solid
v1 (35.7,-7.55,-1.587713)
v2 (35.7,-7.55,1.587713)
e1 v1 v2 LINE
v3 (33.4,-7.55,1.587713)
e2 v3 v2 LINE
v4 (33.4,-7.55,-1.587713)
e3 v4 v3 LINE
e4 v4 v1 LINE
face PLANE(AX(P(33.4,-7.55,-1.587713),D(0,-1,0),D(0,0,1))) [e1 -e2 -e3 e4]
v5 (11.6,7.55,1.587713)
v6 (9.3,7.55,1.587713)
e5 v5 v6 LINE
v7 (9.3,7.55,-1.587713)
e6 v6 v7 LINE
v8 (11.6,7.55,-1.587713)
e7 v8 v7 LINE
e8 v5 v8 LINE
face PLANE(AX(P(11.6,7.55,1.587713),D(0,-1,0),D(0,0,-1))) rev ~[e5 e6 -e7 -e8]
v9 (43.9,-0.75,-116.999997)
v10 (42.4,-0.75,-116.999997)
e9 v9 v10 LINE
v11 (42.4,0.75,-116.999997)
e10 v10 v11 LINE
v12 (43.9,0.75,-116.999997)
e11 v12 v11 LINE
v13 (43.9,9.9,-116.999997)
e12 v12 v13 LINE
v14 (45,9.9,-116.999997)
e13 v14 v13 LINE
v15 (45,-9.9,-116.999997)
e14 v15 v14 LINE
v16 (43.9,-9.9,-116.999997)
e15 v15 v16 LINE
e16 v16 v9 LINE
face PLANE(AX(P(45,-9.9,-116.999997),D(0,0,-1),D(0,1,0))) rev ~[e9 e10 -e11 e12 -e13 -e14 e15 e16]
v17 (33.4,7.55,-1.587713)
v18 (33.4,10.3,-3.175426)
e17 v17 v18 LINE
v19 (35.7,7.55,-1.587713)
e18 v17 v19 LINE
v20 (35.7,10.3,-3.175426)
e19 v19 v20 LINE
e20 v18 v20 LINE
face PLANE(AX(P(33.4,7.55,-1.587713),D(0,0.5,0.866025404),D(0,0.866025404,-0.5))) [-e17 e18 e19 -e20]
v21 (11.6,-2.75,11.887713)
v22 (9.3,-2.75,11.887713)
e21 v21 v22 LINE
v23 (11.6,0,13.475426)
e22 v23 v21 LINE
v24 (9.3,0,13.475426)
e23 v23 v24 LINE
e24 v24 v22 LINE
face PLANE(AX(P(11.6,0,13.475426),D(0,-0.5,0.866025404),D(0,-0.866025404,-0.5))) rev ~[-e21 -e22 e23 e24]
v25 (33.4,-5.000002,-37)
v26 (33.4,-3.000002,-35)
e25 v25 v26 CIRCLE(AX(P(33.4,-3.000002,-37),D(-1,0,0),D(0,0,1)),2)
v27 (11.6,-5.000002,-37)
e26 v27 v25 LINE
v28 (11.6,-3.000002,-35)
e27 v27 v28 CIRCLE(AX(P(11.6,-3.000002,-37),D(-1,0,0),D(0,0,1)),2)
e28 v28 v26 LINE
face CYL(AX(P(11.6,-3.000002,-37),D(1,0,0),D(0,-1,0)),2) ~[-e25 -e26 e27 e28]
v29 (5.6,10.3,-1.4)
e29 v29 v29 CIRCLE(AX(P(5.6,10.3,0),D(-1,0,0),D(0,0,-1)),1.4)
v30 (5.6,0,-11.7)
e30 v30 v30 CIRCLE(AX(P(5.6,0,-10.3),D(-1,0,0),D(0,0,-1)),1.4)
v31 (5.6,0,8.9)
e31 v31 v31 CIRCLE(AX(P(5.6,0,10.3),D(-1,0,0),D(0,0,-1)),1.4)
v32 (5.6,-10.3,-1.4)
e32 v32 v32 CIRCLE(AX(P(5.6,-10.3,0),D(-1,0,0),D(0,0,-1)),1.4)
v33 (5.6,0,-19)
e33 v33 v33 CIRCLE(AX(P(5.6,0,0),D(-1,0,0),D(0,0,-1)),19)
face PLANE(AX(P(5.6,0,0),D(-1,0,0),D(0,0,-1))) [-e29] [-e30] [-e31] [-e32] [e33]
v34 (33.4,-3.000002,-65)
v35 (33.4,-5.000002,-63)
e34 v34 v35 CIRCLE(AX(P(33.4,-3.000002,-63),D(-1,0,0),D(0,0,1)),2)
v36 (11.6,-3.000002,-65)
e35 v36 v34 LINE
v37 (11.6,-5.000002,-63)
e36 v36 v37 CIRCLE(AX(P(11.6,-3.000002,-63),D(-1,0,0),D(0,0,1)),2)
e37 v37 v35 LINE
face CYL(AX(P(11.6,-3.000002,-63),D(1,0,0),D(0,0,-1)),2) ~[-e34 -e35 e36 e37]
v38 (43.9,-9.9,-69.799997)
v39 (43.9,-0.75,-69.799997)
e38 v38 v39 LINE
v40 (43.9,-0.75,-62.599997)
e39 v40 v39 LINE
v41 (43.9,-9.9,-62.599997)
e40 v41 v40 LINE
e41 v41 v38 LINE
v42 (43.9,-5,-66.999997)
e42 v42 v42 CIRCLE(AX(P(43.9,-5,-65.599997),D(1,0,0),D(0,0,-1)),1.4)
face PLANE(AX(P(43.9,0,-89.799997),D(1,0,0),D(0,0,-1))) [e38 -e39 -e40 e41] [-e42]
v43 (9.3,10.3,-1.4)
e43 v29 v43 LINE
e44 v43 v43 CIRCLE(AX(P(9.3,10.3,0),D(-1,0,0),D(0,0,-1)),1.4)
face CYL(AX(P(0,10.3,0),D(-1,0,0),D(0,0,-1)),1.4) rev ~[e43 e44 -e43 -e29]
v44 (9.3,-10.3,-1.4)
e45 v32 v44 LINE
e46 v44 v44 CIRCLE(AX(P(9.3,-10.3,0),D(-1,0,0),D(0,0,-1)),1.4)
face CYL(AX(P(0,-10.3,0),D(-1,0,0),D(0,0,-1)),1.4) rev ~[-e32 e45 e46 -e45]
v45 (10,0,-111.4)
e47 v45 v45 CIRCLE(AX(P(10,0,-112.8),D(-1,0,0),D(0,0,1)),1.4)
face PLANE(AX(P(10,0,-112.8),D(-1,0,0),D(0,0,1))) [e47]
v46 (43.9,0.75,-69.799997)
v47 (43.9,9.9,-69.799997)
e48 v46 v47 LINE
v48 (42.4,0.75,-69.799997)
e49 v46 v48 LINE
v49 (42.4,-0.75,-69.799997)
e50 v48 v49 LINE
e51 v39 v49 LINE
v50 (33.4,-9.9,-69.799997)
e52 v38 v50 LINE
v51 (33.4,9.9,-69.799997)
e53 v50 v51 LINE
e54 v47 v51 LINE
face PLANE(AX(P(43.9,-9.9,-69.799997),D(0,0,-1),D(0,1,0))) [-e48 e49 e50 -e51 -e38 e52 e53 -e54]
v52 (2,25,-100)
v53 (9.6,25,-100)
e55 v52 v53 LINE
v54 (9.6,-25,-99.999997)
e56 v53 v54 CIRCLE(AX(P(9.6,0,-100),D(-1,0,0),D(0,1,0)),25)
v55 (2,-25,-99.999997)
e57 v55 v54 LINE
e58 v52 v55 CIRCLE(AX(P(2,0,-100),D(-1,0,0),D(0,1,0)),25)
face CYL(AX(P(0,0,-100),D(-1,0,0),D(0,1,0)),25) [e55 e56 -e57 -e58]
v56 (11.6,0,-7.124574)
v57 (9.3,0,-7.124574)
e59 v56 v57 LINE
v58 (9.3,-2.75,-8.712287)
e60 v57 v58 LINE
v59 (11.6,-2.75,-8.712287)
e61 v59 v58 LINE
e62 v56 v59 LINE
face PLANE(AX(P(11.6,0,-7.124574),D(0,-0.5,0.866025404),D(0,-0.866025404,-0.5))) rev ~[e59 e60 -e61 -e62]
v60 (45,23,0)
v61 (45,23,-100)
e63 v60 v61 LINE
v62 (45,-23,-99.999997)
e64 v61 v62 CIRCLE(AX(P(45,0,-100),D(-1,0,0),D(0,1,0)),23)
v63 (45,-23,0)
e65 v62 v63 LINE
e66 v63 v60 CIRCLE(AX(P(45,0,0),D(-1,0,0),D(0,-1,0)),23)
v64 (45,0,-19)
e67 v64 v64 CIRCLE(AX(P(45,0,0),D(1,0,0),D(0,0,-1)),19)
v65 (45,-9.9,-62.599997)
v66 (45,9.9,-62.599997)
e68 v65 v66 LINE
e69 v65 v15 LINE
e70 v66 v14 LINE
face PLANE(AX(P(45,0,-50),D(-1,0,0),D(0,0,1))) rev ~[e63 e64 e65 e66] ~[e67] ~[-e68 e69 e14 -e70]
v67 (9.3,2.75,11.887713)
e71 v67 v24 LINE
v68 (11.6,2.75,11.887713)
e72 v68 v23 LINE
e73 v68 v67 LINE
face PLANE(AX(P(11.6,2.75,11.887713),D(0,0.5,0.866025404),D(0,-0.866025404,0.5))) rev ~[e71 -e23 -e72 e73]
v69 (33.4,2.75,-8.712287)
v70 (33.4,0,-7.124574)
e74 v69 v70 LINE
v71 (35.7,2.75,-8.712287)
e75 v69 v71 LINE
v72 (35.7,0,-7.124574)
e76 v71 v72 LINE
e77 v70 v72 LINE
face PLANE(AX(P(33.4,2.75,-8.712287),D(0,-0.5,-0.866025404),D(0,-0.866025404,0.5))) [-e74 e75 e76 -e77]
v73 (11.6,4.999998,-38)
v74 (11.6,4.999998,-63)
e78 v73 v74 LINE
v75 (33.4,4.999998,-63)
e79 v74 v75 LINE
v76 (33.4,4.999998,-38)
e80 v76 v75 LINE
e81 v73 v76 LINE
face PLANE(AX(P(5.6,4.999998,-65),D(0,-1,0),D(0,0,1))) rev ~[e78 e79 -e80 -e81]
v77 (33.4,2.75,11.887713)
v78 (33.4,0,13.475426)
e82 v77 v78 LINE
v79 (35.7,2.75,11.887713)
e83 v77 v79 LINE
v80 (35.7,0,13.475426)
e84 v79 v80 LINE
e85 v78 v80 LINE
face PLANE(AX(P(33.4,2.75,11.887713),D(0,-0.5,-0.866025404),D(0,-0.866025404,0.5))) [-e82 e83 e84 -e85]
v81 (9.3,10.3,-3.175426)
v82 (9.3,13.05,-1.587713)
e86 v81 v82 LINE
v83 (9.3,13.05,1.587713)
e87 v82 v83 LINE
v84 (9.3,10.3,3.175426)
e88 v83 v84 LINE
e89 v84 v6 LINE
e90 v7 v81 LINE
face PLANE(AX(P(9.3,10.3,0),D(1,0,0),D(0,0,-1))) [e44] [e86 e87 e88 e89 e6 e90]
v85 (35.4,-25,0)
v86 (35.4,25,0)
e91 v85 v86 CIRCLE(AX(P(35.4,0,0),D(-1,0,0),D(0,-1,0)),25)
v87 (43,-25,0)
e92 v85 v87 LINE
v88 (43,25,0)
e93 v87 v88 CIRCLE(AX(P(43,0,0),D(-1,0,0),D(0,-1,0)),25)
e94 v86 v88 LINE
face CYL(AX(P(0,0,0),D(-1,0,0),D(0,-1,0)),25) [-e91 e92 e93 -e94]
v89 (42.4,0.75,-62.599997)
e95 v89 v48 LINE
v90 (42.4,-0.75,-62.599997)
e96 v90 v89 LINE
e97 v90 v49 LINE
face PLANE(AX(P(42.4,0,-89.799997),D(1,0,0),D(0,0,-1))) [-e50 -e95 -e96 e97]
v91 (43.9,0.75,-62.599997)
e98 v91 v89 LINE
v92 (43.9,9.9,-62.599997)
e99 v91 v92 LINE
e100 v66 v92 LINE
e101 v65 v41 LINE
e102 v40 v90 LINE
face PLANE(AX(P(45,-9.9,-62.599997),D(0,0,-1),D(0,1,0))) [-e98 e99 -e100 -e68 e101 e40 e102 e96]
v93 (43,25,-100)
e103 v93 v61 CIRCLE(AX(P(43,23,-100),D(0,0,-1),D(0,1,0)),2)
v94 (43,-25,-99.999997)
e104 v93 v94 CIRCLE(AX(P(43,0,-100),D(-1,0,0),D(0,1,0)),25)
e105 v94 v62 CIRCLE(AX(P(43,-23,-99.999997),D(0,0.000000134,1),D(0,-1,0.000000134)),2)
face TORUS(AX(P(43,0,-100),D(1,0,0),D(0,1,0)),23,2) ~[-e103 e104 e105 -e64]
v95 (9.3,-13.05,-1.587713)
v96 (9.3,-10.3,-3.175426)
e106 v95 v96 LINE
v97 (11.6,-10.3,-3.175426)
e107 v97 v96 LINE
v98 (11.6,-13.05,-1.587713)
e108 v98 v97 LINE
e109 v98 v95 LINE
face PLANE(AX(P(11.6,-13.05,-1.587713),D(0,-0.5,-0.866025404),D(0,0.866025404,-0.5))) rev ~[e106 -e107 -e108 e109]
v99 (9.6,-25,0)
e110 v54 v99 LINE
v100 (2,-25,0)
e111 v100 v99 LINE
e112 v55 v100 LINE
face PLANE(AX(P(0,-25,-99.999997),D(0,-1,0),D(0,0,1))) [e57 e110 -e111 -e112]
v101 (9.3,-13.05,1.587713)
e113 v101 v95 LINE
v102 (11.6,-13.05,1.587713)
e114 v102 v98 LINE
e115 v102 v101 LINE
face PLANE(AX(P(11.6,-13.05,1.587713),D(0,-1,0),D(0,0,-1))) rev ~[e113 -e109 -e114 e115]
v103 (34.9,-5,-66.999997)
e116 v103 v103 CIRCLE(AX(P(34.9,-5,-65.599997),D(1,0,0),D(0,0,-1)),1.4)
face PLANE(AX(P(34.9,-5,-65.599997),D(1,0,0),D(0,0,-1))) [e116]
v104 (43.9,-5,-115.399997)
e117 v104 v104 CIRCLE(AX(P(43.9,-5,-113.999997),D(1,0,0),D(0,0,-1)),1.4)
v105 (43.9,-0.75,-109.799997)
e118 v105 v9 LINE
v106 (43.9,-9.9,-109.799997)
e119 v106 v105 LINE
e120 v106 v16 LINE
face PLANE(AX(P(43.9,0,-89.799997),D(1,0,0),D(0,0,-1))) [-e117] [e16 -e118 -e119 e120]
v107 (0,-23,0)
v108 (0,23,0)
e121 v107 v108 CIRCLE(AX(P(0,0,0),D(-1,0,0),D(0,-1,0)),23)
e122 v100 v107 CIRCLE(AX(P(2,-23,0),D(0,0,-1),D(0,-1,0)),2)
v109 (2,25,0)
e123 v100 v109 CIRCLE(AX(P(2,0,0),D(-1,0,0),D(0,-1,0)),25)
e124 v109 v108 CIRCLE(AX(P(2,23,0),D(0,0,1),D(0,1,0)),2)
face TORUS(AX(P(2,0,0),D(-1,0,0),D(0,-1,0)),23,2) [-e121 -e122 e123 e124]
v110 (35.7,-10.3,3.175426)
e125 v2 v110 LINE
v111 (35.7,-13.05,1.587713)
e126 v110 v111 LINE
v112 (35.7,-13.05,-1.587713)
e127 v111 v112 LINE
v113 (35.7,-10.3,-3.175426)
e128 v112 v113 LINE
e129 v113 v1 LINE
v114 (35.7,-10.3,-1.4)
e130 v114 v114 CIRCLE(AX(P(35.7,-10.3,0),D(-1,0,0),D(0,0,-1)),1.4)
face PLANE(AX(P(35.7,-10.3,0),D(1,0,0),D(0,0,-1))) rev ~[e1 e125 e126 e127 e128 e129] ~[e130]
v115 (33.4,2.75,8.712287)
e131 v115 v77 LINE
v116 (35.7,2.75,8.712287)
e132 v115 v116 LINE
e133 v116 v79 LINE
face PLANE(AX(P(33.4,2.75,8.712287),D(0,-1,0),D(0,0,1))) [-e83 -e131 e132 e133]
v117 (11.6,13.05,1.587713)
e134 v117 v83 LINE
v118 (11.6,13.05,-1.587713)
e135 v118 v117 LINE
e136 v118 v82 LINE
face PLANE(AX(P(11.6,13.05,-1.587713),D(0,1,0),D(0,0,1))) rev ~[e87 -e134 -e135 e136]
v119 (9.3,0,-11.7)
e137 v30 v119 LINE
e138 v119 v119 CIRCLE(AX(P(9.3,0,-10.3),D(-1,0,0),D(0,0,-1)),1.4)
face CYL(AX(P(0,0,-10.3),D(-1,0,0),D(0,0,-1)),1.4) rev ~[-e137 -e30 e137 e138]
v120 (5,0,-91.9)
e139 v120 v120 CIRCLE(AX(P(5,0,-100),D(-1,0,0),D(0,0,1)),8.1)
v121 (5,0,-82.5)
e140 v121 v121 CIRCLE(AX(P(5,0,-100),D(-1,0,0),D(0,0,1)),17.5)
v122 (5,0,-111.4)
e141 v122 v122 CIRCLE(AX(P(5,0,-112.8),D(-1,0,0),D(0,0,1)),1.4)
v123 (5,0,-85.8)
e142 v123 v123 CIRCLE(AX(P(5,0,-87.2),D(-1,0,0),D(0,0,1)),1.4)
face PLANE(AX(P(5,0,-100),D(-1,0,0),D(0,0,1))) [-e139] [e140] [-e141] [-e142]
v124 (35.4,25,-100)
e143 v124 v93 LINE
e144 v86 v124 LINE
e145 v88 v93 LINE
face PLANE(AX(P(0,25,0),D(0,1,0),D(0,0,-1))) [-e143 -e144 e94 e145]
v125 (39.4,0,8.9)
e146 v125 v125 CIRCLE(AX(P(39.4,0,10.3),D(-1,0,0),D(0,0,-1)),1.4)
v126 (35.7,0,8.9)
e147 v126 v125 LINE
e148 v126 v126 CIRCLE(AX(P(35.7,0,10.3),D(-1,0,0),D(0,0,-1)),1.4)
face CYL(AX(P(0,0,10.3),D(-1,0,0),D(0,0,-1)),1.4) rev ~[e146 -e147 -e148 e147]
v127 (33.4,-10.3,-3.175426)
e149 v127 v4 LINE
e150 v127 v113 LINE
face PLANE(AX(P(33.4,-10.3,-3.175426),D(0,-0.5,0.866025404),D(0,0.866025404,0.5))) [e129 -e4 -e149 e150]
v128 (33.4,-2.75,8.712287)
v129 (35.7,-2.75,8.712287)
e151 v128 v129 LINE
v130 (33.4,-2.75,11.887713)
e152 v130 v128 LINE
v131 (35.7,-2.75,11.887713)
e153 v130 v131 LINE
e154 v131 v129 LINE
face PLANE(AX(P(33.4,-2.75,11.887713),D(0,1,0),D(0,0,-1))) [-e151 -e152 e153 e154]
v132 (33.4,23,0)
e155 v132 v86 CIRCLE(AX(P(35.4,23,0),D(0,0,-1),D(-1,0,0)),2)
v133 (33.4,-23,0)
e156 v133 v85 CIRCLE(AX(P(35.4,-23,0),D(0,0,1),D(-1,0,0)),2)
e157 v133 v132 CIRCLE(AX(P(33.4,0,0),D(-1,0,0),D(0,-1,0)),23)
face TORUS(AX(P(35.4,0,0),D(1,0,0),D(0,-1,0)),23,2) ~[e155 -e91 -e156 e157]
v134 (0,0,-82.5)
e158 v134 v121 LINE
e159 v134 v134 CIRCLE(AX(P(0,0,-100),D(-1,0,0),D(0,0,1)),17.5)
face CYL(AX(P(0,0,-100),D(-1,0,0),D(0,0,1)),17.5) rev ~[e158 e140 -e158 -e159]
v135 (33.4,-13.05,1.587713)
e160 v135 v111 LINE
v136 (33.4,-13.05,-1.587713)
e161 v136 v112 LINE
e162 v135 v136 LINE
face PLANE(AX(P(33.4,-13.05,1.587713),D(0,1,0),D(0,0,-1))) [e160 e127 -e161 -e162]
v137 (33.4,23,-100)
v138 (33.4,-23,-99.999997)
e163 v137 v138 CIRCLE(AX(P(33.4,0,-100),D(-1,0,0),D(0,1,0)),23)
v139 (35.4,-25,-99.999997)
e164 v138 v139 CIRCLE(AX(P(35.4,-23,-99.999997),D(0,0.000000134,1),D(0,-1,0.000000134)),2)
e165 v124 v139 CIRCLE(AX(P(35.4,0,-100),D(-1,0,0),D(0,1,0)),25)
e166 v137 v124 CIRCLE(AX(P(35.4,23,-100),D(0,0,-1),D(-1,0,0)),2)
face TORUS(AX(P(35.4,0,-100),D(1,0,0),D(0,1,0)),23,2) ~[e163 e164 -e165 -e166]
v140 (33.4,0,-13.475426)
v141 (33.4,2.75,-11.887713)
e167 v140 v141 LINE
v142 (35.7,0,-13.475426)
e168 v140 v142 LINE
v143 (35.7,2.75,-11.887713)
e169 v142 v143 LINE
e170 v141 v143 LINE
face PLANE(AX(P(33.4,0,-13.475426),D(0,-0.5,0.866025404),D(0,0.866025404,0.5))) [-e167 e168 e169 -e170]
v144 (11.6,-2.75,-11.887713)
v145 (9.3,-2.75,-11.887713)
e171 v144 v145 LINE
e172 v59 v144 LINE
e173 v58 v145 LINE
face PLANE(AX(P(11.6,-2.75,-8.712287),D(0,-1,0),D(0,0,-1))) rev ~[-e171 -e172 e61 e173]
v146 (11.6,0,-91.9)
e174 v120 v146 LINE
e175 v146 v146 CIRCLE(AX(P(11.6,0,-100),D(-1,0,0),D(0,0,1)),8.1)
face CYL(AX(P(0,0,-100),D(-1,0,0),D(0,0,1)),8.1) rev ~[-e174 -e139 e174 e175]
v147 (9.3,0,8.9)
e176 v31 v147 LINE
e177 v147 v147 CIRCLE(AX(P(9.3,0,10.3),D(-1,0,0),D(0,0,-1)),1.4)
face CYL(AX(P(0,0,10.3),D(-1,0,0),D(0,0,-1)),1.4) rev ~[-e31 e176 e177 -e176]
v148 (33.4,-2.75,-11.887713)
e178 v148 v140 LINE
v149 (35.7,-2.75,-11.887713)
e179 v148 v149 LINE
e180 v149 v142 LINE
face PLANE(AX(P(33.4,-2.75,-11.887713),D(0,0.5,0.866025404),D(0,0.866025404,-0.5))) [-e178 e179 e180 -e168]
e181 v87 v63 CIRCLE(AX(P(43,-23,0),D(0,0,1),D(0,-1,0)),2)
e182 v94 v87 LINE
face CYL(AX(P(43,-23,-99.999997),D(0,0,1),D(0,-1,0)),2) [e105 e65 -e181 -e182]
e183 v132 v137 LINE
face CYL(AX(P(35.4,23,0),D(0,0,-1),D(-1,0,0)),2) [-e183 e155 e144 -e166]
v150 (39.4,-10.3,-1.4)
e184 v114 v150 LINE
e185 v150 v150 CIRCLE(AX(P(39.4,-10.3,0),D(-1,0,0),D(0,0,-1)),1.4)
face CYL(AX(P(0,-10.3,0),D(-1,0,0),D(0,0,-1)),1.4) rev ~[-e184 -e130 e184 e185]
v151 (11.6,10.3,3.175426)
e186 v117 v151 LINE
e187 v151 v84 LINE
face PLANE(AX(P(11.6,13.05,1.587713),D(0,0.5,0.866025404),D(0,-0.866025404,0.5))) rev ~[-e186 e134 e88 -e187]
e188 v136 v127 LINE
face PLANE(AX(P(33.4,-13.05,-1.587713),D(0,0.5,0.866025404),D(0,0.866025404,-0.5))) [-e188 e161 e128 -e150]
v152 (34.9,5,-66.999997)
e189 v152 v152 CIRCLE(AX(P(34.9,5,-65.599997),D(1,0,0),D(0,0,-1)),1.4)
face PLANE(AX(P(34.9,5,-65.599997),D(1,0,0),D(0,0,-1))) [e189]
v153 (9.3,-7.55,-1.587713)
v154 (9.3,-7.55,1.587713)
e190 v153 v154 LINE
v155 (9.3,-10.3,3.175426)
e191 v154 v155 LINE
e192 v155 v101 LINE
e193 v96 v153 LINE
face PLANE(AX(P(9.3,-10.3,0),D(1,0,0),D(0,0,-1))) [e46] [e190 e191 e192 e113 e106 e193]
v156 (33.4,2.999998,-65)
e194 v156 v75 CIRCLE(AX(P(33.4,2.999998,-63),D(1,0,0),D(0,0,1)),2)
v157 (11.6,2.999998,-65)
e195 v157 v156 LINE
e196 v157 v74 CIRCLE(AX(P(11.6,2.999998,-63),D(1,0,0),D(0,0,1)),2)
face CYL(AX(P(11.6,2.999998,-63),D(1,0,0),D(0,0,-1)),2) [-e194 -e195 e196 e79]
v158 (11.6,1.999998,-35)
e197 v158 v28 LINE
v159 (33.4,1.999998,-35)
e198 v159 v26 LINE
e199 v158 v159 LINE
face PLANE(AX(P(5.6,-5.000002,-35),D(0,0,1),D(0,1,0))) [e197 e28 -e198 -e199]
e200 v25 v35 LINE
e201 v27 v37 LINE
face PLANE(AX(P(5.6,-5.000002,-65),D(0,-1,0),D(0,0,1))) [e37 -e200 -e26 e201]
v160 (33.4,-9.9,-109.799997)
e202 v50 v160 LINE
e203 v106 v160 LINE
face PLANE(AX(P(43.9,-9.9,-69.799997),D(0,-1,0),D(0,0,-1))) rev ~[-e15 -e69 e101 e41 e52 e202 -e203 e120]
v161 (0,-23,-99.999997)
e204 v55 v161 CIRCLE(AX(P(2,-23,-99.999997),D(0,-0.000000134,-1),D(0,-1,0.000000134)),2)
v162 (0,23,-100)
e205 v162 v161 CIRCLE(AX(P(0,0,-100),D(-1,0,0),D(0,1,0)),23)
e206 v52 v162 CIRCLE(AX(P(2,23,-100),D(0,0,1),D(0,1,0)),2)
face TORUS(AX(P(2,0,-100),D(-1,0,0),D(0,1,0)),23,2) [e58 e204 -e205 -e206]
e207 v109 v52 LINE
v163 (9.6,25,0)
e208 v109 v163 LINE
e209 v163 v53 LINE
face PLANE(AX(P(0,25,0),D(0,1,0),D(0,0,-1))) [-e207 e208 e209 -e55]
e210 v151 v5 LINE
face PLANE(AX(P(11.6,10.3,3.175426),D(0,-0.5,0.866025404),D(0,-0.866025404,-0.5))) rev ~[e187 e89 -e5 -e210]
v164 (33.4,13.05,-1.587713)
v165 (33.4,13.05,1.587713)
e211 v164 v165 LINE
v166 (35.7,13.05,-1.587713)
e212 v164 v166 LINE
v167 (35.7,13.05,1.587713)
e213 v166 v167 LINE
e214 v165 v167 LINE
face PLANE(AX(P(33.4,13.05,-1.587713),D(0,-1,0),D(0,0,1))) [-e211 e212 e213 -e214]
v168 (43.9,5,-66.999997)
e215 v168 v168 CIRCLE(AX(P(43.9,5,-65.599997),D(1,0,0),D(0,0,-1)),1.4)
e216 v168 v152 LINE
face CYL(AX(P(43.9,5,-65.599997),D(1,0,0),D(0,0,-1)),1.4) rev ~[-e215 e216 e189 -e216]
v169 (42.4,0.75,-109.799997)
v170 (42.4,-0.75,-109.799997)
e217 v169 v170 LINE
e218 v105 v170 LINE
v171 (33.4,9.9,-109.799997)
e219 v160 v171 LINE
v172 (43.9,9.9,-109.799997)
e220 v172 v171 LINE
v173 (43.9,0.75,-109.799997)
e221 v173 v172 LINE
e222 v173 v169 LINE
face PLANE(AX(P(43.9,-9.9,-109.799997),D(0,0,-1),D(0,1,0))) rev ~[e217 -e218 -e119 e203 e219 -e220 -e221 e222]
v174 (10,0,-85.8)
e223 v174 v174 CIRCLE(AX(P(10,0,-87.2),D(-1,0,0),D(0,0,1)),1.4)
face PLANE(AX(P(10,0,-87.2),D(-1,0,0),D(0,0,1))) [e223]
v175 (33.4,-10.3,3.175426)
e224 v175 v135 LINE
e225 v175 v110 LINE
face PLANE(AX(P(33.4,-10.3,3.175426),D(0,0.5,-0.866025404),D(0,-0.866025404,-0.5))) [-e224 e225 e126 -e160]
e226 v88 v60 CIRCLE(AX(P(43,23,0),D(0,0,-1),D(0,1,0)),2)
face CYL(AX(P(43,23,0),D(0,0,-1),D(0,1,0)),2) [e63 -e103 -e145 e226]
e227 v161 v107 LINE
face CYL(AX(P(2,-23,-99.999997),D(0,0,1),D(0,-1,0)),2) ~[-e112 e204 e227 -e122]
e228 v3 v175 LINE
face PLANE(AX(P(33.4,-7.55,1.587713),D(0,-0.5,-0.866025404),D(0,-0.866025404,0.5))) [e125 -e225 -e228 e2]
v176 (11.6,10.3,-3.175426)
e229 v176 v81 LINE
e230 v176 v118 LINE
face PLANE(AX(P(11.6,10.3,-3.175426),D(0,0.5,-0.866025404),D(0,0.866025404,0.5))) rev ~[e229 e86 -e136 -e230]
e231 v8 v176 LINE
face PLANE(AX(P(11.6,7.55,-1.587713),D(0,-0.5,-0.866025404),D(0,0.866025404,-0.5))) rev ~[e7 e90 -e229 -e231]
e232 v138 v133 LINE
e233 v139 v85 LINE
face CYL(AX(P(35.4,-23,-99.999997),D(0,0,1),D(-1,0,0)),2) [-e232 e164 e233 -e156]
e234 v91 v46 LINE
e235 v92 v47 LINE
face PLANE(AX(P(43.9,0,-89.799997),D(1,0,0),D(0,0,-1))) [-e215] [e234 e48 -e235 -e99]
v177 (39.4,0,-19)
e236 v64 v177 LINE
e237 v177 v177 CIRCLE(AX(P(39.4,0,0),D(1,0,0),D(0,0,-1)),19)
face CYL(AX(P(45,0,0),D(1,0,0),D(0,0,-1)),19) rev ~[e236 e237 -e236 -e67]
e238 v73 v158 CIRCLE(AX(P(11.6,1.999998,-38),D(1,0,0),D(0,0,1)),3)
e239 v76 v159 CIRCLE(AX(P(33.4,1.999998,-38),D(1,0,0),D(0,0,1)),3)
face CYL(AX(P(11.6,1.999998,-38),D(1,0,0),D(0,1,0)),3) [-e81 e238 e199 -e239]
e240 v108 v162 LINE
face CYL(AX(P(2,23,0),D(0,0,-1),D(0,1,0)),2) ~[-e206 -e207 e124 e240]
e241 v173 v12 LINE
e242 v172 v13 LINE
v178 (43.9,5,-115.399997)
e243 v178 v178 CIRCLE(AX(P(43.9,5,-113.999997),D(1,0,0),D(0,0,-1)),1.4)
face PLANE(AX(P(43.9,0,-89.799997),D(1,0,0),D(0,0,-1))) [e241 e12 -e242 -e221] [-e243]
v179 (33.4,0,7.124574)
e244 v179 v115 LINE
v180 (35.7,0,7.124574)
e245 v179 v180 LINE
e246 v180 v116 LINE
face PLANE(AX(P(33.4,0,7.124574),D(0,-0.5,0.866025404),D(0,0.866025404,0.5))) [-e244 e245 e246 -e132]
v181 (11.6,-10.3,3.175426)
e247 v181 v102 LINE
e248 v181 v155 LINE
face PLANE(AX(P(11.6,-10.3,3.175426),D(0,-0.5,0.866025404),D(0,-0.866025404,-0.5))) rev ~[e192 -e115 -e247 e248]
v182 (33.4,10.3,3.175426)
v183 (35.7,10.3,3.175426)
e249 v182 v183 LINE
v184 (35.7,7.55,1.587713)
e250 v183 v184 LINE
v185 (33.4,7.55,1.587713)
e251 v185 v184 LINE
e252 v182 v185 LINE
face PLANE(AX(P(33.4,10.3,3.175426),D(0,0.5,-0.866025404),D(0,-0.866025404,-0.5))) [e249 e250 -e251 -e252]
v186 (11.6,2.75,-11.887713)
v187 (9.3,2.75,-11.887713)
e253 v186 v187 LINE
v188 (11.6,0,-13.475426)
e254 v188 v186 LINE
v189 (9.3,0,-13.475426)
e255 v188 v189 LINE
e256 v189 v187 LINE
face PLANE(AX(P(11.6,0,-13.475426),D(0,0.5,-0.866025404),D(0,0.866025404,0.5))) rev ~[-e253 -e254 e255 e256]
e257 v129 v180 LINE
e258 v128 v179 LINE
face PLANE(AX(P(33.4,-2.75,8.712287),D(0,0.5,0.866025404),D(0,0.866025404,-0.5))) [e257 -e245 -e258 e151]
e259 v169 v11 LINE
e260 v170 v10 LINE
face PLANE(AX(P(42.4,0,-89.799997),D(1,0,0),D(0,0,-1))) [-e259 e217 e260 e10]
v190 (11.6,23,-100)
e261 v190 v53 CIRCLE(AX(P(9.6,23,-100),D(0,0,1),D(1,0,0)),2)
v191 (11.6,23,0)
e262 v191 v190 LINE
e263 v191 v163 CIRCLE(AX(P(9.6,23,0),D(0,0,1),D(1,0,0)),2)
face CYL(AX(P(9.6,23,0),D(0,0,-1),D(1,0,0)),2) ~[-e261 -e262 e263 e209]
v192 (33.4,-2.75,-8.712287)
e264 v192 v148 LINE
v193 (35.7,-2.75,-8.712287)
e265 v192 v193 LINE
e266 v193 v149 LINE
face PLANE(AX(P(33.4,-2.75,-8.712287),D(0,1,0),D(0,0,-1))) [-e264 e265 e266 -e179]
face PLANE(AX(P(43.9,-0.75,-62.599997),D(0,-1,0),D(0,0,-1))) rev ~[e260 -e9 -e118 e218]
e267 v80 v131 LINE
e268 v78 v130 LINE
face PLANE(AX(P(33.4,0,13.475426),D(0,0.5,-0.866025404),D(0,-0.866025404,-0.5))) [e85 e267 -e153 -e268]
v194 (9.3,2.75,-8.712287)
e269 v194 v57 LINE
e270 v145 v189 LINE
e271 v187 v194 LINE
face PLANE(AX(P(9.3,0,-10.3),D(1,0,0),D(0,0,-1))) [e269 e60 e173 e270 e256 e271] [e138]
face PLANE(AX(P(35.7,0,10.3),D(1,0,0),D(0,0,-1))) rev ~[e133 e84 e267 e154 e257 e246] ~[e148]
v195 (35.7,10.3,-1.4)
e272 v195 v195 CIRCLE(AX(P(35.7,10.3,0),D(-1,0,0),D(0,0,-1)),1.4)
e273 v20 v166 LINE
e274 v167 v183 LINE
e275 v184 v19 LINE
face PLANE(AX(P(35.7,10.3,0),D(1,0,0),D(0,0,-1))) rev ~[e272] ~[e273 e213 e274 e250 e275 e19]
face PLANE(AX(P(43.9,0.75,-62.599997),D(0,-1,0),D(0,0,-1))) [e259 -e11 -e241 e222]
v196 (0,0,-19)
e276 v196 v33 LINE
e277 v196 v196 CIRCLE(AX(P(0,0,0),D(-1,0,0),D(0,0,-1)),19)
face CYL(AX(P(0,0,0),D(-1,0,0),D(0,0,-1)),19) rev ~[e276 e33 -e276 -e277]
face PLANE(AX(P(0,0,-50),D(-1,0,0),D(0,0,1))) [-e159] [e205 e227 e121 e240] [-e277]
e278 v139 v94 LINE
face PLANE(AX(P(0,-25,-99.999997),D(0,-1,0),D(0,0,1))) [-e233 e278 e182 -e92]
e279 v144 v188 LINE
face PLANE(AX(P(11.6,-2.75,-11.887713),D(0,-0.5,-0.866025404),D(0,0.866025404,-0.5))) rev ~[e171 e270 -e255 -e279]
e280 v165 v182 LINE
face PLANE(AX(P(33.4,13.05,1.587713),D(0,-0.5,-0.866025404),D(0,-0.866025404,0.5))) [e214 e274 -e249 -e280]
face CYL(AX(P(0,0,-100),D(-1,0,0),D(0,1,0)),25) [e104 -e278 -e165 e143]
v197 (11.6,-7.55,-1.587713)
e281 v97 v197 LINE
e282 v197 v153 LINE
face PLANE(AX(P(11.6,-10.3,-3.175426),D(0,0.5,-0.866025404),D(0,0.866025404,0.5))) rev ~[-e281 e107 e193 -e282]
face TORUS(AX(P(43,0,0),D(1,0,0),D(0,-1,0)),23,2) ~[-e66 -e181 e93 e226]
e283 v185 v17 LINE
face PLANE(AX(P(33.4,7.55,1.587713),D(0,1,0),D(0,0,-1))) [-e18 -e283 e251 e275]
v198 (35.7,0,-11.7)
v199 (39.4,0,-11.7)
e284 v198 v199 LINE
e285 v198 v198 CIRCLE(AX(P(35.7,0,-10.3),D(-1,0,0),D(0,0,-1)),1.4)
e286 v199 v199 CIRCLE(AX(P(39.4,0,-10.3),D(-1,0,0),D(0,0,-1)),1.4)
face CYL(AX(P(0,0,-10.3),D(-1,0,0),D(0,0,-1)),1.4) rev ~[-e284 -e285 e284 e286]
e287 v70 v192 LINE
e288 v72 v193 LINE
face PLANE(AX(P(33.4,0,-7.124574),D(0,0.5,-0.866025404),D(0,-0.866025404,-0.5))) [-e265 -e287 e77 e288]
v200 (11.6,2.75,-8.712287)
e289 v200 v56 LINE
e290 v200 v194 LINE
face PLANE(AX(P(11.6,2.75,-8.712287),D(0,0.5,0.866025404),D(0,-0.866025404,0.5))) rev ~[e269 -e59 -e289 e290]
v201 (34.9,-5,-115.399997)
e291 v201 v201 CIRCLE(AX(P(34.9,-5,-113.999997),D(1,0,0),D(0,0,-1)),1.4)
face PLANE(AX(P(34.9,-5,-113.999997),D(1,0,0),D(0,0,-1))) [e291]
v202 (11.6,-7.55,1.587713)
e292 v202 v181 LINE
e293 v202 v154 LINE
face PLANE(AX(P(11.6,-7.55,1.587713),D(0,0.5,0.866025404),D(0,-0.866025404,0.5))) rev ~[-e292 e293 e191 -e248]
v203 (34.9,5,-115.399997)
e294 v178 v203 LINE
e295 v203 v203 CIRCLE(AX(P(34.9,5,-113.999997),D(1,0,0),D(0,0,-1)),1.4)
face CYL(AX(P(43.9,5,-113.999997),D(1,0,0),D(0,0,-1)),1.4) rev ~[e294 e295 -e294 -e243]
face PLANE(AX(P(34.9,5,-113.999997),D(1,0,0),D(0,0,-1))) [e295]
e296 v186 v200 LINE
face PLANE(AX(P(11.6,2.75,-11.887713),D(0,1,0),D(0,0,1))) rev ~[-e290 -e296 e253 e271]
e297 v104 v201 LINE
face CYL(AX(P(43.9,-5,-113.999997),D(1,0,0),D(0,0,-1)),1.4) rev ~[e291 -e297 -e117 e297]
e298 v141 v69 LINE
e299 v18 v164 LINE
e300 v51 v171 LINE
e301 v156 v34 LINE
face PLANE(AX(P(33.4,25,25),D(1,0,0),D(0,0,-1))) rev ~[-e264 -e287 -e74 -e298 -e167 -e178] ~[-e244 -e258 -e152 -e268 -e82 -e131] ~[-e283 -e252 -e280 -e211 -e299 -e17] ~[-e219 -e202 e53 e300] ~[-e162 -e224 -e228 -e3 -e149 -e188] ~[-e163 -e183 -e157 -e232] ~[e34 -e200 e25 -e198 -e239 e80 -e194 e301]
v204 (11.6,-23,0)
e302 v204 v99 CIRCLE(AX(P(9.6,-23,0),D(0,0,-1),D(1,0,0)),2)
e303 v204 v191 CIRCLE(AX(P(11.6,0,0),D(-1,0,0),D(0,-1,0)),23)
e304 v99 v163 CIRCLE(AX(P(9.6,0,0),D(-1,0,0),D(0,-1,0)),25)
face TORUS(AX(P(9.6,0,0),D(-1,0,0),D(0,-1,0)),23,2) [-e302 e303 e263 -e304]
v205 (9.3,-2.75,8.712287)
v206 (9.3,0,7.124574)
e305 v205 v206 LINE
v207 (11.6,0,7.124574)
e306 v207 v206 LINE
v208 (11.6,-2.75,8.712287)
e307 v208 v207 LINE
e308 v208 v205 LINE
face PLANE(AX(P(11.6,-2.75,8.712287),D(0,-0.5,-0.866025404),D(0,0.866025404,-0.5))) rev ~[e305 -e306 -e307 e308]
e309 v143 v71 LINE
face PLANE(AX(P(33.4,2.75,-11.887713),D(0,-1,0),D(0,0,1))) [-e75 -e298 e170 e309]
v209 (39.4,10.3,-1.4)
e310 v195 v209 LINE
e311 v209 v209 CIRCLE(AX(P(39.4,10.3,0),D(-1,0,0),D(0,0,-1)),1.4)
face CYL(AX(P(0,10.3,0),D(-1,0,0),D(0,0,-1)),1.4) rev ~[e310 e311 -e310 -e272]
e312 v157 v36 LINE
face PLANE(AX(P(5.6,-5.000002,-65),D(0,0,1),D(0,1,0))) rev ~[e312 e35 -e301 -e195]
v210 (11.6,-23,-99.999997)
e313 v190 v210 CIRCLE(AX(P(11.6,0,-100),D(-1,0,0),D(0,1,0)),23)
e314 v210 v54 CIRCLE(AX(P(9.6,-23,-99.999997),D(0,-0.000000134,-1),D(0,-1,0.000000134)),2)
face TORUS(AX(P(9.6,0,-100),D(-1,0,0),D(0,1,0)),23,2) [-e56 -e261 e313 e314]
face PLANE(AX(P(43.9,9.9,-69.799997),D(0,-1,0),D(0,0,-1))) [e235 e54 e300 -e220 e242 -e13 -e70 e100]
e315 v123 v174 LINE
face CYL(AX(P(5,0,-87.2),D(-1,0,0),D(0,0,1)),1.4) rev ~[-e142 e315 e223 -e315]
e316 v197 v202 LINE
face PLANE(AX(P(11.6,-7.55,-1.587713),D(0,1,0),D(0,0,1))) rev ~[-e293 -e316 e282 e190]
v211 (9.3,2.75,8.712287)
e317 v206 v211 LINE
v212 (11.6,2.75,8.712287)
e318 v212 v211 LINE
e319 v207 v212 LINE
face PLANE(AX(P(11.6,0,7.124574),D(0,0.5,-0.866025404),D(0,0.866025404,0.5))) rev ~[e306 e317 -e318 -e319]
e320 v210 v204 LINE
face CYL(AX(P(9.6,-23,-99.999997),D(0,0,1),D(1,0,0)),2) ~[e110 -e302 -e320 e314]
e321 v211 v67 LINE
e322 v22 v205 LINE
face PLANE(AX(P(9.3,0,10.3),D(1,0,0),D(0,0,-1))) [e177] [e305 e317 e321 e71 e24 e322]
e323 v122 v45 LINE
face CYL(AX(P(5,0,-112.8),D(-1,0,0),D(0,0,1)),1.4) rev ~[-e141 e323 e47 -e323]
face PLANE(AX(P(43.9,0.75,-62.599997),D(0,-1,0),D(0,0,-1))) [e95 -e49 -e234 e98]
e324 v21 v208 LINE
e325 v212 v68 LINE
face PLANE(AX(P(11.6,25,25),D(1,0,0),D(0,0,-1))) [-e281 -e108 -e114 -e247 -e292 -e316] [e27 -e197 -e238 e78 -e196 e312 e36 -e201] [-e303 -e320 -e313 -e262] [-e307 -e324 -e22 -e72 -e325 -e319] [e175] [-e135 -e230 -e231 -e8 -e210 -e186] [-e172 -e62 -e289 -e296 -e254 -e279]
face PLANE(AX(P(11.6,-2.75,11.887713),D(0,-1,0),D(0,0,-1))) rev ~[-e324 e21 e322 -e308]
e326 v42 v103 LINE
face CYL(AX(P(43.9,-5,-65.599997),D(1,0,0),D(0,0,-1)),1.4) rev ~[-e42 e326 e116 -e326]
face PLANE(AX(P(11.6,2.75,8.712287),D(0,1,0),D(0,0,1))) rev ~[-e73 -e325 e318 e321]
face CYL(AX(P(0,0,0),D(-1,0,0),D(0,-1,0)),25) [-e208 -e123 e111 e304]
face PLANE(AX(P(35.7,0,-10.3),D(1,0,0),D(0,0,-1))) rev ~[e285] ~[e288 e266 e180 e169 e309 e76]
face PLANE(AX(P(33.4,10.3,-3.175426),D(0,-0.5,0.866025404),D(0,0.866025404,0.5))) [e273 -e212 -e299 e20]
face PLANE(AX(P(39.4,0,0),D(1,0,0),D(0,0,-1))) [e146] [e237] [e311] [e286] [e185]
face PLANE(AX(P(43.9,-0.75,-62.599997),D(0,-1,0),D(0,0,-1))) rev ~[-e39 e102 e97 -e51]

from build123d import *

# Parameters (mm, degrees)
SALIENTE_EXTRUIR1_DEPTH = 45
CROQUIS3_R              = 19
CORTAR_EXTRUIR1_DEPTH   = 5.6
CROQUIS4_R              = 19
CORTAR_EXTRUIR2_DEPTH   = 5.6
CROQUIS5_W              = 21.8
CROQUIS5_H              = 150
CORTAR_EXTRUIR3_DEPTH   = 55.6
CROQUIS6_W              = 30
CROQUIS6_H              = 10
SALIENTE_EXTRUIR2_DEPTH = 33.6
CROQUIS8_W              = 54.4
CROQUIS8_H              = 19.8
CORTAR_EXTRUIR4_DEPTH   = 1.1
CROQUIS9_W              = 40
CROQUIS9_H              = 19.8
CORTAR_EXTRUIR5_DEPTH   = 22
CROQUIS10_R             = 1.4
CORTAR_EXTRUIR6_DEPTH   = 9
CROQUIS11_W             = 54.4
CROQUIS11_H             = 1.5
CORTAR_EXTRUIR7_DEPTH   = 1.5
CROQUIS12_R             = 8.1
CORTAR_EXTRUIR8_DEPTH   = 17.5
CROQUIS13_R             = 17.5
CORTAR_EXTRUIR9_DEPTH   = 5
CROQUIS14_R             = 1.4
CORTAR_EXTRUIR10_DEPTH  = 5
CROQUIS15_R             = 1.4
CORTAR_EXTRUIR11_DEPTH  = 55
CORTAR_EXTRUIR12_DEPTH  = 2.3
CORTAR_EXTRUIR13_DEPTH  = 2.3
REDONDEO1_R             = 2
REDONDEO1_2_R           = 3


with BuildPart() as part:
    # Croquis2 → Saliente-Extruir1 (new body)
    with BuildSketch(Plane(origin=(0, 0, 0), x_dir=(0, 0, -1), z_dir=(1, 0, 0))):
        with BuildLine():
            Line((0, 25), (100, 25))
            ThreePointArc((100, 25), (125, -1.672e-06), (99.999996656, -25))
            Line((99.999996656, -25), (0, -25))
            ThreePointArc((0, -25), (-25, 0), (0, 25))
        make_face()
    extrude(amount=SALIENTE_EXTRUIR1_DEPTH)

    # Croquis3 → Cortar-Extruir1 (cut)
    with BuildSketch(Plane(origin=(45, 0, 0), x_dir=(0, 0, -1), z_dir=(1, 0, 0))):
        Circle(CROQUIS3_R)
    extrude(amount=-CORTAR_EXTRUIR1_DEPTH, mode=Mode.SUBTRACT)

    # Croquis4 → Cortar-Extruir2 (cut)
    with BuildSketch(Plane.ZY):
        with Locations(Location((0, 0, 0), (0, 0, 180))):  # turned: the seam where the file's is
            Circle(CROQUIS4_R)
    extrude(amount=-CORTAR_EXTRUIR2_DEPTH, mode=Mode.SUBTRACT)

    # Croquis5 → Cortar-Extruir3 (cut)
    with BuildSketch(Plane(origin=(0, 25, 0), x_dir=(1, 0, 0), z_dir=(0, 1, 0))):
        with Locations((22.5, 50)):
            Rectangle(CROQUIS5_W, CROQUIS5_H)
    extrude(amount=-CORTAR_EXTRUIR3_DEPTH, mode=Mode.SUBTRACT)

    # Croquis6 → Saliente-Extruir2 (add)
    with BuildSketch(Plane.ZY.offset(-5.6)):
        with Locations((-50, -1.672e-06)):
            Rectangle(CROQUIS6_W, CROQUIS6_H)
    extrude(amount=-SALIENTE_EXTRUIR2_DEPTH)

    # Croquis8 → Cortar-Extruir4 (cut)
    with BuildSketch(Plane(origin=(45, 0, 0), x_dir=(0, 0, -1), z_dir=(1, 0, 0))):
        with Locations((89.799996656, 0)):
            Rectangle(CROQUIS8_W, CROQUIS8_H)
    extrude(amount=-CORTAR_EXTRUIR4_DEPTH, mode=Mode.SUBTRACT)

    # Croquis9 → Cortar-Extruir5 (cut)
    with BuildSketch(Plane(origin=(43.9, 0, 0), x_dir=(0, 0, -1), z_dir=(1, 0, 0))):
        with Locations((89.799996656, 0)):
            Rectangle(CROQUIS9_W, CROQUIS9_H)
    extrude(amount=-CORTAR_EXTRUIR5_DEPTH, mode=Mode.SUBTRACT)

    # Croquis10 → Cortar-Extruir6 (cut)
    with BuildSketch(Plane(origin=(43.9, 0, 0), x_dir=(0, 0, -1), z_dir=(1, 0, 0))):
        with Locations((65.599996656, -5)):
            Circle(CROQUIS10_R)
        with Locations((65.599996656, 5)):
            Circle(CROQUIS10_R)
        with Locations((113.999996656, 5)):
            Circle(CROQUIS10_R)
        with Locations((113.999996656, -5)):
            Circle(CROQUIS10_R)
    extrude(amount=-CORTAR_EXTRUIR6_DEPTH, mode=Mode.SUBTRACT)

    # Croquis11 → Cortar-Extruir7 (cut)
    with BuildSketch(Plane(origin=(43.9, 0, 0), x_dir=(0, 0, -1), z_dir=(1, 0, 0))):
        with Locations((89.799996656, 0)):
            Rectangle(CROQUIS11_W, CROQUIS11_H)
    extrude(amount=-CORTAR_EXTRUIR7_DEPTH, mode=Mode.SUBTRACT)

    # Croquis12 → Cortar-Extruir8 (cut)
    with BuildSketch(Plane.ZY):
        with Locations((-100, 0)):
            Circle(CROQUIS12_R)
    extrude(amount=-CORTAR_EXTRUIR8_DEPTH, mode=Mode.SUBTRACT)

    # Croquis13 → Cortar-Extruir9 (cut)
    with BuildSketch(Plane.ZY):
        with Locations((-100, 0)):
            Circle(CROQUIS13_R)
    extrude(amount=-CORTAR_EXTRUIR9_DEPTH, mode=Mode.SUBTRACT)

    # Croquis14 → Cortar-Extruir10 (cut)
    with BuildSketch(Plane.ZY.offset(-5)):
        with Locations((-112.8, 0)):
            Circle(CROQUIS14_R)
        with Locations((-87.2, 0)):
            Circle(CROQUIS14_R)
    extrude(amount=-CORTAR_EXTRUIR10_DEPTH, mode=Mode.SUBTRACT)

    # Croquis15 → Cortar-Extruir11 (cut)
    with BuildSketch(Plane.ZY):
        with Locations(Location((-10.3, 0, 0), (0, 0, 180))):  # turned: the seam where the file's is
            Circle(CROQUIS15_R)
        with Locations(Location((10.3, 0, 0), (0, 0, 180))):  # turned: the seam where the file's is
            Circle(CROQUIS15_R)
        with Locations(Location((0, -10.3, 0), (0, 0, 180))):  # turned: the seam where the file's is
            Circle(CROQUIS15_R)
        with Locations(Location((0, 10.3, 0), (0, 0, 180))):  # turned: the seam where the file's is
            Circle(CROQUIS15_R)
    extrude(amount=-CORTAR_EXTRUIR11_DEPTH, mode=Mode.SUBTRACT)

    # Croquis16 → Cortar-Extruir12 (cut)
    with BuildSketch(Plane(origin=(11.6, 0, 0), x_dir=(0, 0, -1), z_dir=(1, 0, 0))):
        Polygon((-7.124573519, 0), (-8.71228676, 2.75), (-11.88771324, 2.75), (-13.475426481, 0), (-11.88771324, -2.75), (-8.71228676, -2.75), align=None)
        Polygon((13.475426481, 0), (11.88771324, 2.75), (8.71228676, 2.75), (7.124573519, 0), (8.71228676, -2.75), (11.88771324, -2.75), align=None)
        Polygon((3.175426481, 10.3), (1.58771324, 13.05), (-1.58771324, 13.05), (-3.175426481, 10.3), (-1.58771324, 7.55), (1.58771324, 7.55), align=None)
        Polygon((3.175426481, -10.3), (1.58771324, -7.55), (-1.58771324, -7.55), (-3.175426481, -10.3), (-1.58771324, -13.05), (1.58771324, -13.05), align=None)
    extrude(amount=-CORTAR_EXTRUIR12_DEPTH, mode=Mode.SUBTRACT)

    # Croquis17 → Cortar-Extruir13 (cut)
    with BuildSketch(Plane.ZY.offset(-33.4)):
        Polygon((3.175426481, 10.3), (1.58771324, 7.55), (-1.58771324, 7.55), (-3.175426481, 10.3), (-1.58771324, 13.05), (1.58771324, 13.05), align=None)
        Polygon((8.71228676, -2.75), (7.124573519, 0), (8.71228676, 2.75), (11.88771324, 2.75), (13.475426481, 0), (11.88771324, -2.75), align=None)
        Polygon((1.58771324, -7.55), (3.175426481, -10.3), (1.58771324, -13.05), (-1.58771324, -13.05), (-3.175426481, -10.3), (-1.58771324, -7.55), align=None)
        Polygon((-7.124573519, 0), (-8.71228676, -2.75), (-11.88771324, -2.75), (-13.475426481, 0), (-11.88771324, 2.75), (-8.71228676, 2.75), align=None)
    extrude(amount=-CORTAR_EXTRUIR13_DEPTH, mode=Mode.SUBTRACT)

    # Redondeo1
    redondeo1_edges = [part.edges().sort_by_distance(p)[0] for p in [
        (45, 25, -50),
        (0, 25, -50),
        (33.4, 25, -50),
        (11.6, 25, -50),
        (22.5, 4.999998328, -65),
        (22.5, -5.000001672, -65),
        (22.5, -5.000001672, -35),
    ]]
    fillet(redondeo1_edges, radius=REDONDEO1_R)

    # Redondeo1 2
    redondeo1_2_edges = [part.edges().sort_by_distance(p)[0] for p in [
        (22.5, 4.999998328, -35),
    ]]
    fillet(redondeo1_2_edges, radius=REDONDEO1_2_R)


solid = part.part
